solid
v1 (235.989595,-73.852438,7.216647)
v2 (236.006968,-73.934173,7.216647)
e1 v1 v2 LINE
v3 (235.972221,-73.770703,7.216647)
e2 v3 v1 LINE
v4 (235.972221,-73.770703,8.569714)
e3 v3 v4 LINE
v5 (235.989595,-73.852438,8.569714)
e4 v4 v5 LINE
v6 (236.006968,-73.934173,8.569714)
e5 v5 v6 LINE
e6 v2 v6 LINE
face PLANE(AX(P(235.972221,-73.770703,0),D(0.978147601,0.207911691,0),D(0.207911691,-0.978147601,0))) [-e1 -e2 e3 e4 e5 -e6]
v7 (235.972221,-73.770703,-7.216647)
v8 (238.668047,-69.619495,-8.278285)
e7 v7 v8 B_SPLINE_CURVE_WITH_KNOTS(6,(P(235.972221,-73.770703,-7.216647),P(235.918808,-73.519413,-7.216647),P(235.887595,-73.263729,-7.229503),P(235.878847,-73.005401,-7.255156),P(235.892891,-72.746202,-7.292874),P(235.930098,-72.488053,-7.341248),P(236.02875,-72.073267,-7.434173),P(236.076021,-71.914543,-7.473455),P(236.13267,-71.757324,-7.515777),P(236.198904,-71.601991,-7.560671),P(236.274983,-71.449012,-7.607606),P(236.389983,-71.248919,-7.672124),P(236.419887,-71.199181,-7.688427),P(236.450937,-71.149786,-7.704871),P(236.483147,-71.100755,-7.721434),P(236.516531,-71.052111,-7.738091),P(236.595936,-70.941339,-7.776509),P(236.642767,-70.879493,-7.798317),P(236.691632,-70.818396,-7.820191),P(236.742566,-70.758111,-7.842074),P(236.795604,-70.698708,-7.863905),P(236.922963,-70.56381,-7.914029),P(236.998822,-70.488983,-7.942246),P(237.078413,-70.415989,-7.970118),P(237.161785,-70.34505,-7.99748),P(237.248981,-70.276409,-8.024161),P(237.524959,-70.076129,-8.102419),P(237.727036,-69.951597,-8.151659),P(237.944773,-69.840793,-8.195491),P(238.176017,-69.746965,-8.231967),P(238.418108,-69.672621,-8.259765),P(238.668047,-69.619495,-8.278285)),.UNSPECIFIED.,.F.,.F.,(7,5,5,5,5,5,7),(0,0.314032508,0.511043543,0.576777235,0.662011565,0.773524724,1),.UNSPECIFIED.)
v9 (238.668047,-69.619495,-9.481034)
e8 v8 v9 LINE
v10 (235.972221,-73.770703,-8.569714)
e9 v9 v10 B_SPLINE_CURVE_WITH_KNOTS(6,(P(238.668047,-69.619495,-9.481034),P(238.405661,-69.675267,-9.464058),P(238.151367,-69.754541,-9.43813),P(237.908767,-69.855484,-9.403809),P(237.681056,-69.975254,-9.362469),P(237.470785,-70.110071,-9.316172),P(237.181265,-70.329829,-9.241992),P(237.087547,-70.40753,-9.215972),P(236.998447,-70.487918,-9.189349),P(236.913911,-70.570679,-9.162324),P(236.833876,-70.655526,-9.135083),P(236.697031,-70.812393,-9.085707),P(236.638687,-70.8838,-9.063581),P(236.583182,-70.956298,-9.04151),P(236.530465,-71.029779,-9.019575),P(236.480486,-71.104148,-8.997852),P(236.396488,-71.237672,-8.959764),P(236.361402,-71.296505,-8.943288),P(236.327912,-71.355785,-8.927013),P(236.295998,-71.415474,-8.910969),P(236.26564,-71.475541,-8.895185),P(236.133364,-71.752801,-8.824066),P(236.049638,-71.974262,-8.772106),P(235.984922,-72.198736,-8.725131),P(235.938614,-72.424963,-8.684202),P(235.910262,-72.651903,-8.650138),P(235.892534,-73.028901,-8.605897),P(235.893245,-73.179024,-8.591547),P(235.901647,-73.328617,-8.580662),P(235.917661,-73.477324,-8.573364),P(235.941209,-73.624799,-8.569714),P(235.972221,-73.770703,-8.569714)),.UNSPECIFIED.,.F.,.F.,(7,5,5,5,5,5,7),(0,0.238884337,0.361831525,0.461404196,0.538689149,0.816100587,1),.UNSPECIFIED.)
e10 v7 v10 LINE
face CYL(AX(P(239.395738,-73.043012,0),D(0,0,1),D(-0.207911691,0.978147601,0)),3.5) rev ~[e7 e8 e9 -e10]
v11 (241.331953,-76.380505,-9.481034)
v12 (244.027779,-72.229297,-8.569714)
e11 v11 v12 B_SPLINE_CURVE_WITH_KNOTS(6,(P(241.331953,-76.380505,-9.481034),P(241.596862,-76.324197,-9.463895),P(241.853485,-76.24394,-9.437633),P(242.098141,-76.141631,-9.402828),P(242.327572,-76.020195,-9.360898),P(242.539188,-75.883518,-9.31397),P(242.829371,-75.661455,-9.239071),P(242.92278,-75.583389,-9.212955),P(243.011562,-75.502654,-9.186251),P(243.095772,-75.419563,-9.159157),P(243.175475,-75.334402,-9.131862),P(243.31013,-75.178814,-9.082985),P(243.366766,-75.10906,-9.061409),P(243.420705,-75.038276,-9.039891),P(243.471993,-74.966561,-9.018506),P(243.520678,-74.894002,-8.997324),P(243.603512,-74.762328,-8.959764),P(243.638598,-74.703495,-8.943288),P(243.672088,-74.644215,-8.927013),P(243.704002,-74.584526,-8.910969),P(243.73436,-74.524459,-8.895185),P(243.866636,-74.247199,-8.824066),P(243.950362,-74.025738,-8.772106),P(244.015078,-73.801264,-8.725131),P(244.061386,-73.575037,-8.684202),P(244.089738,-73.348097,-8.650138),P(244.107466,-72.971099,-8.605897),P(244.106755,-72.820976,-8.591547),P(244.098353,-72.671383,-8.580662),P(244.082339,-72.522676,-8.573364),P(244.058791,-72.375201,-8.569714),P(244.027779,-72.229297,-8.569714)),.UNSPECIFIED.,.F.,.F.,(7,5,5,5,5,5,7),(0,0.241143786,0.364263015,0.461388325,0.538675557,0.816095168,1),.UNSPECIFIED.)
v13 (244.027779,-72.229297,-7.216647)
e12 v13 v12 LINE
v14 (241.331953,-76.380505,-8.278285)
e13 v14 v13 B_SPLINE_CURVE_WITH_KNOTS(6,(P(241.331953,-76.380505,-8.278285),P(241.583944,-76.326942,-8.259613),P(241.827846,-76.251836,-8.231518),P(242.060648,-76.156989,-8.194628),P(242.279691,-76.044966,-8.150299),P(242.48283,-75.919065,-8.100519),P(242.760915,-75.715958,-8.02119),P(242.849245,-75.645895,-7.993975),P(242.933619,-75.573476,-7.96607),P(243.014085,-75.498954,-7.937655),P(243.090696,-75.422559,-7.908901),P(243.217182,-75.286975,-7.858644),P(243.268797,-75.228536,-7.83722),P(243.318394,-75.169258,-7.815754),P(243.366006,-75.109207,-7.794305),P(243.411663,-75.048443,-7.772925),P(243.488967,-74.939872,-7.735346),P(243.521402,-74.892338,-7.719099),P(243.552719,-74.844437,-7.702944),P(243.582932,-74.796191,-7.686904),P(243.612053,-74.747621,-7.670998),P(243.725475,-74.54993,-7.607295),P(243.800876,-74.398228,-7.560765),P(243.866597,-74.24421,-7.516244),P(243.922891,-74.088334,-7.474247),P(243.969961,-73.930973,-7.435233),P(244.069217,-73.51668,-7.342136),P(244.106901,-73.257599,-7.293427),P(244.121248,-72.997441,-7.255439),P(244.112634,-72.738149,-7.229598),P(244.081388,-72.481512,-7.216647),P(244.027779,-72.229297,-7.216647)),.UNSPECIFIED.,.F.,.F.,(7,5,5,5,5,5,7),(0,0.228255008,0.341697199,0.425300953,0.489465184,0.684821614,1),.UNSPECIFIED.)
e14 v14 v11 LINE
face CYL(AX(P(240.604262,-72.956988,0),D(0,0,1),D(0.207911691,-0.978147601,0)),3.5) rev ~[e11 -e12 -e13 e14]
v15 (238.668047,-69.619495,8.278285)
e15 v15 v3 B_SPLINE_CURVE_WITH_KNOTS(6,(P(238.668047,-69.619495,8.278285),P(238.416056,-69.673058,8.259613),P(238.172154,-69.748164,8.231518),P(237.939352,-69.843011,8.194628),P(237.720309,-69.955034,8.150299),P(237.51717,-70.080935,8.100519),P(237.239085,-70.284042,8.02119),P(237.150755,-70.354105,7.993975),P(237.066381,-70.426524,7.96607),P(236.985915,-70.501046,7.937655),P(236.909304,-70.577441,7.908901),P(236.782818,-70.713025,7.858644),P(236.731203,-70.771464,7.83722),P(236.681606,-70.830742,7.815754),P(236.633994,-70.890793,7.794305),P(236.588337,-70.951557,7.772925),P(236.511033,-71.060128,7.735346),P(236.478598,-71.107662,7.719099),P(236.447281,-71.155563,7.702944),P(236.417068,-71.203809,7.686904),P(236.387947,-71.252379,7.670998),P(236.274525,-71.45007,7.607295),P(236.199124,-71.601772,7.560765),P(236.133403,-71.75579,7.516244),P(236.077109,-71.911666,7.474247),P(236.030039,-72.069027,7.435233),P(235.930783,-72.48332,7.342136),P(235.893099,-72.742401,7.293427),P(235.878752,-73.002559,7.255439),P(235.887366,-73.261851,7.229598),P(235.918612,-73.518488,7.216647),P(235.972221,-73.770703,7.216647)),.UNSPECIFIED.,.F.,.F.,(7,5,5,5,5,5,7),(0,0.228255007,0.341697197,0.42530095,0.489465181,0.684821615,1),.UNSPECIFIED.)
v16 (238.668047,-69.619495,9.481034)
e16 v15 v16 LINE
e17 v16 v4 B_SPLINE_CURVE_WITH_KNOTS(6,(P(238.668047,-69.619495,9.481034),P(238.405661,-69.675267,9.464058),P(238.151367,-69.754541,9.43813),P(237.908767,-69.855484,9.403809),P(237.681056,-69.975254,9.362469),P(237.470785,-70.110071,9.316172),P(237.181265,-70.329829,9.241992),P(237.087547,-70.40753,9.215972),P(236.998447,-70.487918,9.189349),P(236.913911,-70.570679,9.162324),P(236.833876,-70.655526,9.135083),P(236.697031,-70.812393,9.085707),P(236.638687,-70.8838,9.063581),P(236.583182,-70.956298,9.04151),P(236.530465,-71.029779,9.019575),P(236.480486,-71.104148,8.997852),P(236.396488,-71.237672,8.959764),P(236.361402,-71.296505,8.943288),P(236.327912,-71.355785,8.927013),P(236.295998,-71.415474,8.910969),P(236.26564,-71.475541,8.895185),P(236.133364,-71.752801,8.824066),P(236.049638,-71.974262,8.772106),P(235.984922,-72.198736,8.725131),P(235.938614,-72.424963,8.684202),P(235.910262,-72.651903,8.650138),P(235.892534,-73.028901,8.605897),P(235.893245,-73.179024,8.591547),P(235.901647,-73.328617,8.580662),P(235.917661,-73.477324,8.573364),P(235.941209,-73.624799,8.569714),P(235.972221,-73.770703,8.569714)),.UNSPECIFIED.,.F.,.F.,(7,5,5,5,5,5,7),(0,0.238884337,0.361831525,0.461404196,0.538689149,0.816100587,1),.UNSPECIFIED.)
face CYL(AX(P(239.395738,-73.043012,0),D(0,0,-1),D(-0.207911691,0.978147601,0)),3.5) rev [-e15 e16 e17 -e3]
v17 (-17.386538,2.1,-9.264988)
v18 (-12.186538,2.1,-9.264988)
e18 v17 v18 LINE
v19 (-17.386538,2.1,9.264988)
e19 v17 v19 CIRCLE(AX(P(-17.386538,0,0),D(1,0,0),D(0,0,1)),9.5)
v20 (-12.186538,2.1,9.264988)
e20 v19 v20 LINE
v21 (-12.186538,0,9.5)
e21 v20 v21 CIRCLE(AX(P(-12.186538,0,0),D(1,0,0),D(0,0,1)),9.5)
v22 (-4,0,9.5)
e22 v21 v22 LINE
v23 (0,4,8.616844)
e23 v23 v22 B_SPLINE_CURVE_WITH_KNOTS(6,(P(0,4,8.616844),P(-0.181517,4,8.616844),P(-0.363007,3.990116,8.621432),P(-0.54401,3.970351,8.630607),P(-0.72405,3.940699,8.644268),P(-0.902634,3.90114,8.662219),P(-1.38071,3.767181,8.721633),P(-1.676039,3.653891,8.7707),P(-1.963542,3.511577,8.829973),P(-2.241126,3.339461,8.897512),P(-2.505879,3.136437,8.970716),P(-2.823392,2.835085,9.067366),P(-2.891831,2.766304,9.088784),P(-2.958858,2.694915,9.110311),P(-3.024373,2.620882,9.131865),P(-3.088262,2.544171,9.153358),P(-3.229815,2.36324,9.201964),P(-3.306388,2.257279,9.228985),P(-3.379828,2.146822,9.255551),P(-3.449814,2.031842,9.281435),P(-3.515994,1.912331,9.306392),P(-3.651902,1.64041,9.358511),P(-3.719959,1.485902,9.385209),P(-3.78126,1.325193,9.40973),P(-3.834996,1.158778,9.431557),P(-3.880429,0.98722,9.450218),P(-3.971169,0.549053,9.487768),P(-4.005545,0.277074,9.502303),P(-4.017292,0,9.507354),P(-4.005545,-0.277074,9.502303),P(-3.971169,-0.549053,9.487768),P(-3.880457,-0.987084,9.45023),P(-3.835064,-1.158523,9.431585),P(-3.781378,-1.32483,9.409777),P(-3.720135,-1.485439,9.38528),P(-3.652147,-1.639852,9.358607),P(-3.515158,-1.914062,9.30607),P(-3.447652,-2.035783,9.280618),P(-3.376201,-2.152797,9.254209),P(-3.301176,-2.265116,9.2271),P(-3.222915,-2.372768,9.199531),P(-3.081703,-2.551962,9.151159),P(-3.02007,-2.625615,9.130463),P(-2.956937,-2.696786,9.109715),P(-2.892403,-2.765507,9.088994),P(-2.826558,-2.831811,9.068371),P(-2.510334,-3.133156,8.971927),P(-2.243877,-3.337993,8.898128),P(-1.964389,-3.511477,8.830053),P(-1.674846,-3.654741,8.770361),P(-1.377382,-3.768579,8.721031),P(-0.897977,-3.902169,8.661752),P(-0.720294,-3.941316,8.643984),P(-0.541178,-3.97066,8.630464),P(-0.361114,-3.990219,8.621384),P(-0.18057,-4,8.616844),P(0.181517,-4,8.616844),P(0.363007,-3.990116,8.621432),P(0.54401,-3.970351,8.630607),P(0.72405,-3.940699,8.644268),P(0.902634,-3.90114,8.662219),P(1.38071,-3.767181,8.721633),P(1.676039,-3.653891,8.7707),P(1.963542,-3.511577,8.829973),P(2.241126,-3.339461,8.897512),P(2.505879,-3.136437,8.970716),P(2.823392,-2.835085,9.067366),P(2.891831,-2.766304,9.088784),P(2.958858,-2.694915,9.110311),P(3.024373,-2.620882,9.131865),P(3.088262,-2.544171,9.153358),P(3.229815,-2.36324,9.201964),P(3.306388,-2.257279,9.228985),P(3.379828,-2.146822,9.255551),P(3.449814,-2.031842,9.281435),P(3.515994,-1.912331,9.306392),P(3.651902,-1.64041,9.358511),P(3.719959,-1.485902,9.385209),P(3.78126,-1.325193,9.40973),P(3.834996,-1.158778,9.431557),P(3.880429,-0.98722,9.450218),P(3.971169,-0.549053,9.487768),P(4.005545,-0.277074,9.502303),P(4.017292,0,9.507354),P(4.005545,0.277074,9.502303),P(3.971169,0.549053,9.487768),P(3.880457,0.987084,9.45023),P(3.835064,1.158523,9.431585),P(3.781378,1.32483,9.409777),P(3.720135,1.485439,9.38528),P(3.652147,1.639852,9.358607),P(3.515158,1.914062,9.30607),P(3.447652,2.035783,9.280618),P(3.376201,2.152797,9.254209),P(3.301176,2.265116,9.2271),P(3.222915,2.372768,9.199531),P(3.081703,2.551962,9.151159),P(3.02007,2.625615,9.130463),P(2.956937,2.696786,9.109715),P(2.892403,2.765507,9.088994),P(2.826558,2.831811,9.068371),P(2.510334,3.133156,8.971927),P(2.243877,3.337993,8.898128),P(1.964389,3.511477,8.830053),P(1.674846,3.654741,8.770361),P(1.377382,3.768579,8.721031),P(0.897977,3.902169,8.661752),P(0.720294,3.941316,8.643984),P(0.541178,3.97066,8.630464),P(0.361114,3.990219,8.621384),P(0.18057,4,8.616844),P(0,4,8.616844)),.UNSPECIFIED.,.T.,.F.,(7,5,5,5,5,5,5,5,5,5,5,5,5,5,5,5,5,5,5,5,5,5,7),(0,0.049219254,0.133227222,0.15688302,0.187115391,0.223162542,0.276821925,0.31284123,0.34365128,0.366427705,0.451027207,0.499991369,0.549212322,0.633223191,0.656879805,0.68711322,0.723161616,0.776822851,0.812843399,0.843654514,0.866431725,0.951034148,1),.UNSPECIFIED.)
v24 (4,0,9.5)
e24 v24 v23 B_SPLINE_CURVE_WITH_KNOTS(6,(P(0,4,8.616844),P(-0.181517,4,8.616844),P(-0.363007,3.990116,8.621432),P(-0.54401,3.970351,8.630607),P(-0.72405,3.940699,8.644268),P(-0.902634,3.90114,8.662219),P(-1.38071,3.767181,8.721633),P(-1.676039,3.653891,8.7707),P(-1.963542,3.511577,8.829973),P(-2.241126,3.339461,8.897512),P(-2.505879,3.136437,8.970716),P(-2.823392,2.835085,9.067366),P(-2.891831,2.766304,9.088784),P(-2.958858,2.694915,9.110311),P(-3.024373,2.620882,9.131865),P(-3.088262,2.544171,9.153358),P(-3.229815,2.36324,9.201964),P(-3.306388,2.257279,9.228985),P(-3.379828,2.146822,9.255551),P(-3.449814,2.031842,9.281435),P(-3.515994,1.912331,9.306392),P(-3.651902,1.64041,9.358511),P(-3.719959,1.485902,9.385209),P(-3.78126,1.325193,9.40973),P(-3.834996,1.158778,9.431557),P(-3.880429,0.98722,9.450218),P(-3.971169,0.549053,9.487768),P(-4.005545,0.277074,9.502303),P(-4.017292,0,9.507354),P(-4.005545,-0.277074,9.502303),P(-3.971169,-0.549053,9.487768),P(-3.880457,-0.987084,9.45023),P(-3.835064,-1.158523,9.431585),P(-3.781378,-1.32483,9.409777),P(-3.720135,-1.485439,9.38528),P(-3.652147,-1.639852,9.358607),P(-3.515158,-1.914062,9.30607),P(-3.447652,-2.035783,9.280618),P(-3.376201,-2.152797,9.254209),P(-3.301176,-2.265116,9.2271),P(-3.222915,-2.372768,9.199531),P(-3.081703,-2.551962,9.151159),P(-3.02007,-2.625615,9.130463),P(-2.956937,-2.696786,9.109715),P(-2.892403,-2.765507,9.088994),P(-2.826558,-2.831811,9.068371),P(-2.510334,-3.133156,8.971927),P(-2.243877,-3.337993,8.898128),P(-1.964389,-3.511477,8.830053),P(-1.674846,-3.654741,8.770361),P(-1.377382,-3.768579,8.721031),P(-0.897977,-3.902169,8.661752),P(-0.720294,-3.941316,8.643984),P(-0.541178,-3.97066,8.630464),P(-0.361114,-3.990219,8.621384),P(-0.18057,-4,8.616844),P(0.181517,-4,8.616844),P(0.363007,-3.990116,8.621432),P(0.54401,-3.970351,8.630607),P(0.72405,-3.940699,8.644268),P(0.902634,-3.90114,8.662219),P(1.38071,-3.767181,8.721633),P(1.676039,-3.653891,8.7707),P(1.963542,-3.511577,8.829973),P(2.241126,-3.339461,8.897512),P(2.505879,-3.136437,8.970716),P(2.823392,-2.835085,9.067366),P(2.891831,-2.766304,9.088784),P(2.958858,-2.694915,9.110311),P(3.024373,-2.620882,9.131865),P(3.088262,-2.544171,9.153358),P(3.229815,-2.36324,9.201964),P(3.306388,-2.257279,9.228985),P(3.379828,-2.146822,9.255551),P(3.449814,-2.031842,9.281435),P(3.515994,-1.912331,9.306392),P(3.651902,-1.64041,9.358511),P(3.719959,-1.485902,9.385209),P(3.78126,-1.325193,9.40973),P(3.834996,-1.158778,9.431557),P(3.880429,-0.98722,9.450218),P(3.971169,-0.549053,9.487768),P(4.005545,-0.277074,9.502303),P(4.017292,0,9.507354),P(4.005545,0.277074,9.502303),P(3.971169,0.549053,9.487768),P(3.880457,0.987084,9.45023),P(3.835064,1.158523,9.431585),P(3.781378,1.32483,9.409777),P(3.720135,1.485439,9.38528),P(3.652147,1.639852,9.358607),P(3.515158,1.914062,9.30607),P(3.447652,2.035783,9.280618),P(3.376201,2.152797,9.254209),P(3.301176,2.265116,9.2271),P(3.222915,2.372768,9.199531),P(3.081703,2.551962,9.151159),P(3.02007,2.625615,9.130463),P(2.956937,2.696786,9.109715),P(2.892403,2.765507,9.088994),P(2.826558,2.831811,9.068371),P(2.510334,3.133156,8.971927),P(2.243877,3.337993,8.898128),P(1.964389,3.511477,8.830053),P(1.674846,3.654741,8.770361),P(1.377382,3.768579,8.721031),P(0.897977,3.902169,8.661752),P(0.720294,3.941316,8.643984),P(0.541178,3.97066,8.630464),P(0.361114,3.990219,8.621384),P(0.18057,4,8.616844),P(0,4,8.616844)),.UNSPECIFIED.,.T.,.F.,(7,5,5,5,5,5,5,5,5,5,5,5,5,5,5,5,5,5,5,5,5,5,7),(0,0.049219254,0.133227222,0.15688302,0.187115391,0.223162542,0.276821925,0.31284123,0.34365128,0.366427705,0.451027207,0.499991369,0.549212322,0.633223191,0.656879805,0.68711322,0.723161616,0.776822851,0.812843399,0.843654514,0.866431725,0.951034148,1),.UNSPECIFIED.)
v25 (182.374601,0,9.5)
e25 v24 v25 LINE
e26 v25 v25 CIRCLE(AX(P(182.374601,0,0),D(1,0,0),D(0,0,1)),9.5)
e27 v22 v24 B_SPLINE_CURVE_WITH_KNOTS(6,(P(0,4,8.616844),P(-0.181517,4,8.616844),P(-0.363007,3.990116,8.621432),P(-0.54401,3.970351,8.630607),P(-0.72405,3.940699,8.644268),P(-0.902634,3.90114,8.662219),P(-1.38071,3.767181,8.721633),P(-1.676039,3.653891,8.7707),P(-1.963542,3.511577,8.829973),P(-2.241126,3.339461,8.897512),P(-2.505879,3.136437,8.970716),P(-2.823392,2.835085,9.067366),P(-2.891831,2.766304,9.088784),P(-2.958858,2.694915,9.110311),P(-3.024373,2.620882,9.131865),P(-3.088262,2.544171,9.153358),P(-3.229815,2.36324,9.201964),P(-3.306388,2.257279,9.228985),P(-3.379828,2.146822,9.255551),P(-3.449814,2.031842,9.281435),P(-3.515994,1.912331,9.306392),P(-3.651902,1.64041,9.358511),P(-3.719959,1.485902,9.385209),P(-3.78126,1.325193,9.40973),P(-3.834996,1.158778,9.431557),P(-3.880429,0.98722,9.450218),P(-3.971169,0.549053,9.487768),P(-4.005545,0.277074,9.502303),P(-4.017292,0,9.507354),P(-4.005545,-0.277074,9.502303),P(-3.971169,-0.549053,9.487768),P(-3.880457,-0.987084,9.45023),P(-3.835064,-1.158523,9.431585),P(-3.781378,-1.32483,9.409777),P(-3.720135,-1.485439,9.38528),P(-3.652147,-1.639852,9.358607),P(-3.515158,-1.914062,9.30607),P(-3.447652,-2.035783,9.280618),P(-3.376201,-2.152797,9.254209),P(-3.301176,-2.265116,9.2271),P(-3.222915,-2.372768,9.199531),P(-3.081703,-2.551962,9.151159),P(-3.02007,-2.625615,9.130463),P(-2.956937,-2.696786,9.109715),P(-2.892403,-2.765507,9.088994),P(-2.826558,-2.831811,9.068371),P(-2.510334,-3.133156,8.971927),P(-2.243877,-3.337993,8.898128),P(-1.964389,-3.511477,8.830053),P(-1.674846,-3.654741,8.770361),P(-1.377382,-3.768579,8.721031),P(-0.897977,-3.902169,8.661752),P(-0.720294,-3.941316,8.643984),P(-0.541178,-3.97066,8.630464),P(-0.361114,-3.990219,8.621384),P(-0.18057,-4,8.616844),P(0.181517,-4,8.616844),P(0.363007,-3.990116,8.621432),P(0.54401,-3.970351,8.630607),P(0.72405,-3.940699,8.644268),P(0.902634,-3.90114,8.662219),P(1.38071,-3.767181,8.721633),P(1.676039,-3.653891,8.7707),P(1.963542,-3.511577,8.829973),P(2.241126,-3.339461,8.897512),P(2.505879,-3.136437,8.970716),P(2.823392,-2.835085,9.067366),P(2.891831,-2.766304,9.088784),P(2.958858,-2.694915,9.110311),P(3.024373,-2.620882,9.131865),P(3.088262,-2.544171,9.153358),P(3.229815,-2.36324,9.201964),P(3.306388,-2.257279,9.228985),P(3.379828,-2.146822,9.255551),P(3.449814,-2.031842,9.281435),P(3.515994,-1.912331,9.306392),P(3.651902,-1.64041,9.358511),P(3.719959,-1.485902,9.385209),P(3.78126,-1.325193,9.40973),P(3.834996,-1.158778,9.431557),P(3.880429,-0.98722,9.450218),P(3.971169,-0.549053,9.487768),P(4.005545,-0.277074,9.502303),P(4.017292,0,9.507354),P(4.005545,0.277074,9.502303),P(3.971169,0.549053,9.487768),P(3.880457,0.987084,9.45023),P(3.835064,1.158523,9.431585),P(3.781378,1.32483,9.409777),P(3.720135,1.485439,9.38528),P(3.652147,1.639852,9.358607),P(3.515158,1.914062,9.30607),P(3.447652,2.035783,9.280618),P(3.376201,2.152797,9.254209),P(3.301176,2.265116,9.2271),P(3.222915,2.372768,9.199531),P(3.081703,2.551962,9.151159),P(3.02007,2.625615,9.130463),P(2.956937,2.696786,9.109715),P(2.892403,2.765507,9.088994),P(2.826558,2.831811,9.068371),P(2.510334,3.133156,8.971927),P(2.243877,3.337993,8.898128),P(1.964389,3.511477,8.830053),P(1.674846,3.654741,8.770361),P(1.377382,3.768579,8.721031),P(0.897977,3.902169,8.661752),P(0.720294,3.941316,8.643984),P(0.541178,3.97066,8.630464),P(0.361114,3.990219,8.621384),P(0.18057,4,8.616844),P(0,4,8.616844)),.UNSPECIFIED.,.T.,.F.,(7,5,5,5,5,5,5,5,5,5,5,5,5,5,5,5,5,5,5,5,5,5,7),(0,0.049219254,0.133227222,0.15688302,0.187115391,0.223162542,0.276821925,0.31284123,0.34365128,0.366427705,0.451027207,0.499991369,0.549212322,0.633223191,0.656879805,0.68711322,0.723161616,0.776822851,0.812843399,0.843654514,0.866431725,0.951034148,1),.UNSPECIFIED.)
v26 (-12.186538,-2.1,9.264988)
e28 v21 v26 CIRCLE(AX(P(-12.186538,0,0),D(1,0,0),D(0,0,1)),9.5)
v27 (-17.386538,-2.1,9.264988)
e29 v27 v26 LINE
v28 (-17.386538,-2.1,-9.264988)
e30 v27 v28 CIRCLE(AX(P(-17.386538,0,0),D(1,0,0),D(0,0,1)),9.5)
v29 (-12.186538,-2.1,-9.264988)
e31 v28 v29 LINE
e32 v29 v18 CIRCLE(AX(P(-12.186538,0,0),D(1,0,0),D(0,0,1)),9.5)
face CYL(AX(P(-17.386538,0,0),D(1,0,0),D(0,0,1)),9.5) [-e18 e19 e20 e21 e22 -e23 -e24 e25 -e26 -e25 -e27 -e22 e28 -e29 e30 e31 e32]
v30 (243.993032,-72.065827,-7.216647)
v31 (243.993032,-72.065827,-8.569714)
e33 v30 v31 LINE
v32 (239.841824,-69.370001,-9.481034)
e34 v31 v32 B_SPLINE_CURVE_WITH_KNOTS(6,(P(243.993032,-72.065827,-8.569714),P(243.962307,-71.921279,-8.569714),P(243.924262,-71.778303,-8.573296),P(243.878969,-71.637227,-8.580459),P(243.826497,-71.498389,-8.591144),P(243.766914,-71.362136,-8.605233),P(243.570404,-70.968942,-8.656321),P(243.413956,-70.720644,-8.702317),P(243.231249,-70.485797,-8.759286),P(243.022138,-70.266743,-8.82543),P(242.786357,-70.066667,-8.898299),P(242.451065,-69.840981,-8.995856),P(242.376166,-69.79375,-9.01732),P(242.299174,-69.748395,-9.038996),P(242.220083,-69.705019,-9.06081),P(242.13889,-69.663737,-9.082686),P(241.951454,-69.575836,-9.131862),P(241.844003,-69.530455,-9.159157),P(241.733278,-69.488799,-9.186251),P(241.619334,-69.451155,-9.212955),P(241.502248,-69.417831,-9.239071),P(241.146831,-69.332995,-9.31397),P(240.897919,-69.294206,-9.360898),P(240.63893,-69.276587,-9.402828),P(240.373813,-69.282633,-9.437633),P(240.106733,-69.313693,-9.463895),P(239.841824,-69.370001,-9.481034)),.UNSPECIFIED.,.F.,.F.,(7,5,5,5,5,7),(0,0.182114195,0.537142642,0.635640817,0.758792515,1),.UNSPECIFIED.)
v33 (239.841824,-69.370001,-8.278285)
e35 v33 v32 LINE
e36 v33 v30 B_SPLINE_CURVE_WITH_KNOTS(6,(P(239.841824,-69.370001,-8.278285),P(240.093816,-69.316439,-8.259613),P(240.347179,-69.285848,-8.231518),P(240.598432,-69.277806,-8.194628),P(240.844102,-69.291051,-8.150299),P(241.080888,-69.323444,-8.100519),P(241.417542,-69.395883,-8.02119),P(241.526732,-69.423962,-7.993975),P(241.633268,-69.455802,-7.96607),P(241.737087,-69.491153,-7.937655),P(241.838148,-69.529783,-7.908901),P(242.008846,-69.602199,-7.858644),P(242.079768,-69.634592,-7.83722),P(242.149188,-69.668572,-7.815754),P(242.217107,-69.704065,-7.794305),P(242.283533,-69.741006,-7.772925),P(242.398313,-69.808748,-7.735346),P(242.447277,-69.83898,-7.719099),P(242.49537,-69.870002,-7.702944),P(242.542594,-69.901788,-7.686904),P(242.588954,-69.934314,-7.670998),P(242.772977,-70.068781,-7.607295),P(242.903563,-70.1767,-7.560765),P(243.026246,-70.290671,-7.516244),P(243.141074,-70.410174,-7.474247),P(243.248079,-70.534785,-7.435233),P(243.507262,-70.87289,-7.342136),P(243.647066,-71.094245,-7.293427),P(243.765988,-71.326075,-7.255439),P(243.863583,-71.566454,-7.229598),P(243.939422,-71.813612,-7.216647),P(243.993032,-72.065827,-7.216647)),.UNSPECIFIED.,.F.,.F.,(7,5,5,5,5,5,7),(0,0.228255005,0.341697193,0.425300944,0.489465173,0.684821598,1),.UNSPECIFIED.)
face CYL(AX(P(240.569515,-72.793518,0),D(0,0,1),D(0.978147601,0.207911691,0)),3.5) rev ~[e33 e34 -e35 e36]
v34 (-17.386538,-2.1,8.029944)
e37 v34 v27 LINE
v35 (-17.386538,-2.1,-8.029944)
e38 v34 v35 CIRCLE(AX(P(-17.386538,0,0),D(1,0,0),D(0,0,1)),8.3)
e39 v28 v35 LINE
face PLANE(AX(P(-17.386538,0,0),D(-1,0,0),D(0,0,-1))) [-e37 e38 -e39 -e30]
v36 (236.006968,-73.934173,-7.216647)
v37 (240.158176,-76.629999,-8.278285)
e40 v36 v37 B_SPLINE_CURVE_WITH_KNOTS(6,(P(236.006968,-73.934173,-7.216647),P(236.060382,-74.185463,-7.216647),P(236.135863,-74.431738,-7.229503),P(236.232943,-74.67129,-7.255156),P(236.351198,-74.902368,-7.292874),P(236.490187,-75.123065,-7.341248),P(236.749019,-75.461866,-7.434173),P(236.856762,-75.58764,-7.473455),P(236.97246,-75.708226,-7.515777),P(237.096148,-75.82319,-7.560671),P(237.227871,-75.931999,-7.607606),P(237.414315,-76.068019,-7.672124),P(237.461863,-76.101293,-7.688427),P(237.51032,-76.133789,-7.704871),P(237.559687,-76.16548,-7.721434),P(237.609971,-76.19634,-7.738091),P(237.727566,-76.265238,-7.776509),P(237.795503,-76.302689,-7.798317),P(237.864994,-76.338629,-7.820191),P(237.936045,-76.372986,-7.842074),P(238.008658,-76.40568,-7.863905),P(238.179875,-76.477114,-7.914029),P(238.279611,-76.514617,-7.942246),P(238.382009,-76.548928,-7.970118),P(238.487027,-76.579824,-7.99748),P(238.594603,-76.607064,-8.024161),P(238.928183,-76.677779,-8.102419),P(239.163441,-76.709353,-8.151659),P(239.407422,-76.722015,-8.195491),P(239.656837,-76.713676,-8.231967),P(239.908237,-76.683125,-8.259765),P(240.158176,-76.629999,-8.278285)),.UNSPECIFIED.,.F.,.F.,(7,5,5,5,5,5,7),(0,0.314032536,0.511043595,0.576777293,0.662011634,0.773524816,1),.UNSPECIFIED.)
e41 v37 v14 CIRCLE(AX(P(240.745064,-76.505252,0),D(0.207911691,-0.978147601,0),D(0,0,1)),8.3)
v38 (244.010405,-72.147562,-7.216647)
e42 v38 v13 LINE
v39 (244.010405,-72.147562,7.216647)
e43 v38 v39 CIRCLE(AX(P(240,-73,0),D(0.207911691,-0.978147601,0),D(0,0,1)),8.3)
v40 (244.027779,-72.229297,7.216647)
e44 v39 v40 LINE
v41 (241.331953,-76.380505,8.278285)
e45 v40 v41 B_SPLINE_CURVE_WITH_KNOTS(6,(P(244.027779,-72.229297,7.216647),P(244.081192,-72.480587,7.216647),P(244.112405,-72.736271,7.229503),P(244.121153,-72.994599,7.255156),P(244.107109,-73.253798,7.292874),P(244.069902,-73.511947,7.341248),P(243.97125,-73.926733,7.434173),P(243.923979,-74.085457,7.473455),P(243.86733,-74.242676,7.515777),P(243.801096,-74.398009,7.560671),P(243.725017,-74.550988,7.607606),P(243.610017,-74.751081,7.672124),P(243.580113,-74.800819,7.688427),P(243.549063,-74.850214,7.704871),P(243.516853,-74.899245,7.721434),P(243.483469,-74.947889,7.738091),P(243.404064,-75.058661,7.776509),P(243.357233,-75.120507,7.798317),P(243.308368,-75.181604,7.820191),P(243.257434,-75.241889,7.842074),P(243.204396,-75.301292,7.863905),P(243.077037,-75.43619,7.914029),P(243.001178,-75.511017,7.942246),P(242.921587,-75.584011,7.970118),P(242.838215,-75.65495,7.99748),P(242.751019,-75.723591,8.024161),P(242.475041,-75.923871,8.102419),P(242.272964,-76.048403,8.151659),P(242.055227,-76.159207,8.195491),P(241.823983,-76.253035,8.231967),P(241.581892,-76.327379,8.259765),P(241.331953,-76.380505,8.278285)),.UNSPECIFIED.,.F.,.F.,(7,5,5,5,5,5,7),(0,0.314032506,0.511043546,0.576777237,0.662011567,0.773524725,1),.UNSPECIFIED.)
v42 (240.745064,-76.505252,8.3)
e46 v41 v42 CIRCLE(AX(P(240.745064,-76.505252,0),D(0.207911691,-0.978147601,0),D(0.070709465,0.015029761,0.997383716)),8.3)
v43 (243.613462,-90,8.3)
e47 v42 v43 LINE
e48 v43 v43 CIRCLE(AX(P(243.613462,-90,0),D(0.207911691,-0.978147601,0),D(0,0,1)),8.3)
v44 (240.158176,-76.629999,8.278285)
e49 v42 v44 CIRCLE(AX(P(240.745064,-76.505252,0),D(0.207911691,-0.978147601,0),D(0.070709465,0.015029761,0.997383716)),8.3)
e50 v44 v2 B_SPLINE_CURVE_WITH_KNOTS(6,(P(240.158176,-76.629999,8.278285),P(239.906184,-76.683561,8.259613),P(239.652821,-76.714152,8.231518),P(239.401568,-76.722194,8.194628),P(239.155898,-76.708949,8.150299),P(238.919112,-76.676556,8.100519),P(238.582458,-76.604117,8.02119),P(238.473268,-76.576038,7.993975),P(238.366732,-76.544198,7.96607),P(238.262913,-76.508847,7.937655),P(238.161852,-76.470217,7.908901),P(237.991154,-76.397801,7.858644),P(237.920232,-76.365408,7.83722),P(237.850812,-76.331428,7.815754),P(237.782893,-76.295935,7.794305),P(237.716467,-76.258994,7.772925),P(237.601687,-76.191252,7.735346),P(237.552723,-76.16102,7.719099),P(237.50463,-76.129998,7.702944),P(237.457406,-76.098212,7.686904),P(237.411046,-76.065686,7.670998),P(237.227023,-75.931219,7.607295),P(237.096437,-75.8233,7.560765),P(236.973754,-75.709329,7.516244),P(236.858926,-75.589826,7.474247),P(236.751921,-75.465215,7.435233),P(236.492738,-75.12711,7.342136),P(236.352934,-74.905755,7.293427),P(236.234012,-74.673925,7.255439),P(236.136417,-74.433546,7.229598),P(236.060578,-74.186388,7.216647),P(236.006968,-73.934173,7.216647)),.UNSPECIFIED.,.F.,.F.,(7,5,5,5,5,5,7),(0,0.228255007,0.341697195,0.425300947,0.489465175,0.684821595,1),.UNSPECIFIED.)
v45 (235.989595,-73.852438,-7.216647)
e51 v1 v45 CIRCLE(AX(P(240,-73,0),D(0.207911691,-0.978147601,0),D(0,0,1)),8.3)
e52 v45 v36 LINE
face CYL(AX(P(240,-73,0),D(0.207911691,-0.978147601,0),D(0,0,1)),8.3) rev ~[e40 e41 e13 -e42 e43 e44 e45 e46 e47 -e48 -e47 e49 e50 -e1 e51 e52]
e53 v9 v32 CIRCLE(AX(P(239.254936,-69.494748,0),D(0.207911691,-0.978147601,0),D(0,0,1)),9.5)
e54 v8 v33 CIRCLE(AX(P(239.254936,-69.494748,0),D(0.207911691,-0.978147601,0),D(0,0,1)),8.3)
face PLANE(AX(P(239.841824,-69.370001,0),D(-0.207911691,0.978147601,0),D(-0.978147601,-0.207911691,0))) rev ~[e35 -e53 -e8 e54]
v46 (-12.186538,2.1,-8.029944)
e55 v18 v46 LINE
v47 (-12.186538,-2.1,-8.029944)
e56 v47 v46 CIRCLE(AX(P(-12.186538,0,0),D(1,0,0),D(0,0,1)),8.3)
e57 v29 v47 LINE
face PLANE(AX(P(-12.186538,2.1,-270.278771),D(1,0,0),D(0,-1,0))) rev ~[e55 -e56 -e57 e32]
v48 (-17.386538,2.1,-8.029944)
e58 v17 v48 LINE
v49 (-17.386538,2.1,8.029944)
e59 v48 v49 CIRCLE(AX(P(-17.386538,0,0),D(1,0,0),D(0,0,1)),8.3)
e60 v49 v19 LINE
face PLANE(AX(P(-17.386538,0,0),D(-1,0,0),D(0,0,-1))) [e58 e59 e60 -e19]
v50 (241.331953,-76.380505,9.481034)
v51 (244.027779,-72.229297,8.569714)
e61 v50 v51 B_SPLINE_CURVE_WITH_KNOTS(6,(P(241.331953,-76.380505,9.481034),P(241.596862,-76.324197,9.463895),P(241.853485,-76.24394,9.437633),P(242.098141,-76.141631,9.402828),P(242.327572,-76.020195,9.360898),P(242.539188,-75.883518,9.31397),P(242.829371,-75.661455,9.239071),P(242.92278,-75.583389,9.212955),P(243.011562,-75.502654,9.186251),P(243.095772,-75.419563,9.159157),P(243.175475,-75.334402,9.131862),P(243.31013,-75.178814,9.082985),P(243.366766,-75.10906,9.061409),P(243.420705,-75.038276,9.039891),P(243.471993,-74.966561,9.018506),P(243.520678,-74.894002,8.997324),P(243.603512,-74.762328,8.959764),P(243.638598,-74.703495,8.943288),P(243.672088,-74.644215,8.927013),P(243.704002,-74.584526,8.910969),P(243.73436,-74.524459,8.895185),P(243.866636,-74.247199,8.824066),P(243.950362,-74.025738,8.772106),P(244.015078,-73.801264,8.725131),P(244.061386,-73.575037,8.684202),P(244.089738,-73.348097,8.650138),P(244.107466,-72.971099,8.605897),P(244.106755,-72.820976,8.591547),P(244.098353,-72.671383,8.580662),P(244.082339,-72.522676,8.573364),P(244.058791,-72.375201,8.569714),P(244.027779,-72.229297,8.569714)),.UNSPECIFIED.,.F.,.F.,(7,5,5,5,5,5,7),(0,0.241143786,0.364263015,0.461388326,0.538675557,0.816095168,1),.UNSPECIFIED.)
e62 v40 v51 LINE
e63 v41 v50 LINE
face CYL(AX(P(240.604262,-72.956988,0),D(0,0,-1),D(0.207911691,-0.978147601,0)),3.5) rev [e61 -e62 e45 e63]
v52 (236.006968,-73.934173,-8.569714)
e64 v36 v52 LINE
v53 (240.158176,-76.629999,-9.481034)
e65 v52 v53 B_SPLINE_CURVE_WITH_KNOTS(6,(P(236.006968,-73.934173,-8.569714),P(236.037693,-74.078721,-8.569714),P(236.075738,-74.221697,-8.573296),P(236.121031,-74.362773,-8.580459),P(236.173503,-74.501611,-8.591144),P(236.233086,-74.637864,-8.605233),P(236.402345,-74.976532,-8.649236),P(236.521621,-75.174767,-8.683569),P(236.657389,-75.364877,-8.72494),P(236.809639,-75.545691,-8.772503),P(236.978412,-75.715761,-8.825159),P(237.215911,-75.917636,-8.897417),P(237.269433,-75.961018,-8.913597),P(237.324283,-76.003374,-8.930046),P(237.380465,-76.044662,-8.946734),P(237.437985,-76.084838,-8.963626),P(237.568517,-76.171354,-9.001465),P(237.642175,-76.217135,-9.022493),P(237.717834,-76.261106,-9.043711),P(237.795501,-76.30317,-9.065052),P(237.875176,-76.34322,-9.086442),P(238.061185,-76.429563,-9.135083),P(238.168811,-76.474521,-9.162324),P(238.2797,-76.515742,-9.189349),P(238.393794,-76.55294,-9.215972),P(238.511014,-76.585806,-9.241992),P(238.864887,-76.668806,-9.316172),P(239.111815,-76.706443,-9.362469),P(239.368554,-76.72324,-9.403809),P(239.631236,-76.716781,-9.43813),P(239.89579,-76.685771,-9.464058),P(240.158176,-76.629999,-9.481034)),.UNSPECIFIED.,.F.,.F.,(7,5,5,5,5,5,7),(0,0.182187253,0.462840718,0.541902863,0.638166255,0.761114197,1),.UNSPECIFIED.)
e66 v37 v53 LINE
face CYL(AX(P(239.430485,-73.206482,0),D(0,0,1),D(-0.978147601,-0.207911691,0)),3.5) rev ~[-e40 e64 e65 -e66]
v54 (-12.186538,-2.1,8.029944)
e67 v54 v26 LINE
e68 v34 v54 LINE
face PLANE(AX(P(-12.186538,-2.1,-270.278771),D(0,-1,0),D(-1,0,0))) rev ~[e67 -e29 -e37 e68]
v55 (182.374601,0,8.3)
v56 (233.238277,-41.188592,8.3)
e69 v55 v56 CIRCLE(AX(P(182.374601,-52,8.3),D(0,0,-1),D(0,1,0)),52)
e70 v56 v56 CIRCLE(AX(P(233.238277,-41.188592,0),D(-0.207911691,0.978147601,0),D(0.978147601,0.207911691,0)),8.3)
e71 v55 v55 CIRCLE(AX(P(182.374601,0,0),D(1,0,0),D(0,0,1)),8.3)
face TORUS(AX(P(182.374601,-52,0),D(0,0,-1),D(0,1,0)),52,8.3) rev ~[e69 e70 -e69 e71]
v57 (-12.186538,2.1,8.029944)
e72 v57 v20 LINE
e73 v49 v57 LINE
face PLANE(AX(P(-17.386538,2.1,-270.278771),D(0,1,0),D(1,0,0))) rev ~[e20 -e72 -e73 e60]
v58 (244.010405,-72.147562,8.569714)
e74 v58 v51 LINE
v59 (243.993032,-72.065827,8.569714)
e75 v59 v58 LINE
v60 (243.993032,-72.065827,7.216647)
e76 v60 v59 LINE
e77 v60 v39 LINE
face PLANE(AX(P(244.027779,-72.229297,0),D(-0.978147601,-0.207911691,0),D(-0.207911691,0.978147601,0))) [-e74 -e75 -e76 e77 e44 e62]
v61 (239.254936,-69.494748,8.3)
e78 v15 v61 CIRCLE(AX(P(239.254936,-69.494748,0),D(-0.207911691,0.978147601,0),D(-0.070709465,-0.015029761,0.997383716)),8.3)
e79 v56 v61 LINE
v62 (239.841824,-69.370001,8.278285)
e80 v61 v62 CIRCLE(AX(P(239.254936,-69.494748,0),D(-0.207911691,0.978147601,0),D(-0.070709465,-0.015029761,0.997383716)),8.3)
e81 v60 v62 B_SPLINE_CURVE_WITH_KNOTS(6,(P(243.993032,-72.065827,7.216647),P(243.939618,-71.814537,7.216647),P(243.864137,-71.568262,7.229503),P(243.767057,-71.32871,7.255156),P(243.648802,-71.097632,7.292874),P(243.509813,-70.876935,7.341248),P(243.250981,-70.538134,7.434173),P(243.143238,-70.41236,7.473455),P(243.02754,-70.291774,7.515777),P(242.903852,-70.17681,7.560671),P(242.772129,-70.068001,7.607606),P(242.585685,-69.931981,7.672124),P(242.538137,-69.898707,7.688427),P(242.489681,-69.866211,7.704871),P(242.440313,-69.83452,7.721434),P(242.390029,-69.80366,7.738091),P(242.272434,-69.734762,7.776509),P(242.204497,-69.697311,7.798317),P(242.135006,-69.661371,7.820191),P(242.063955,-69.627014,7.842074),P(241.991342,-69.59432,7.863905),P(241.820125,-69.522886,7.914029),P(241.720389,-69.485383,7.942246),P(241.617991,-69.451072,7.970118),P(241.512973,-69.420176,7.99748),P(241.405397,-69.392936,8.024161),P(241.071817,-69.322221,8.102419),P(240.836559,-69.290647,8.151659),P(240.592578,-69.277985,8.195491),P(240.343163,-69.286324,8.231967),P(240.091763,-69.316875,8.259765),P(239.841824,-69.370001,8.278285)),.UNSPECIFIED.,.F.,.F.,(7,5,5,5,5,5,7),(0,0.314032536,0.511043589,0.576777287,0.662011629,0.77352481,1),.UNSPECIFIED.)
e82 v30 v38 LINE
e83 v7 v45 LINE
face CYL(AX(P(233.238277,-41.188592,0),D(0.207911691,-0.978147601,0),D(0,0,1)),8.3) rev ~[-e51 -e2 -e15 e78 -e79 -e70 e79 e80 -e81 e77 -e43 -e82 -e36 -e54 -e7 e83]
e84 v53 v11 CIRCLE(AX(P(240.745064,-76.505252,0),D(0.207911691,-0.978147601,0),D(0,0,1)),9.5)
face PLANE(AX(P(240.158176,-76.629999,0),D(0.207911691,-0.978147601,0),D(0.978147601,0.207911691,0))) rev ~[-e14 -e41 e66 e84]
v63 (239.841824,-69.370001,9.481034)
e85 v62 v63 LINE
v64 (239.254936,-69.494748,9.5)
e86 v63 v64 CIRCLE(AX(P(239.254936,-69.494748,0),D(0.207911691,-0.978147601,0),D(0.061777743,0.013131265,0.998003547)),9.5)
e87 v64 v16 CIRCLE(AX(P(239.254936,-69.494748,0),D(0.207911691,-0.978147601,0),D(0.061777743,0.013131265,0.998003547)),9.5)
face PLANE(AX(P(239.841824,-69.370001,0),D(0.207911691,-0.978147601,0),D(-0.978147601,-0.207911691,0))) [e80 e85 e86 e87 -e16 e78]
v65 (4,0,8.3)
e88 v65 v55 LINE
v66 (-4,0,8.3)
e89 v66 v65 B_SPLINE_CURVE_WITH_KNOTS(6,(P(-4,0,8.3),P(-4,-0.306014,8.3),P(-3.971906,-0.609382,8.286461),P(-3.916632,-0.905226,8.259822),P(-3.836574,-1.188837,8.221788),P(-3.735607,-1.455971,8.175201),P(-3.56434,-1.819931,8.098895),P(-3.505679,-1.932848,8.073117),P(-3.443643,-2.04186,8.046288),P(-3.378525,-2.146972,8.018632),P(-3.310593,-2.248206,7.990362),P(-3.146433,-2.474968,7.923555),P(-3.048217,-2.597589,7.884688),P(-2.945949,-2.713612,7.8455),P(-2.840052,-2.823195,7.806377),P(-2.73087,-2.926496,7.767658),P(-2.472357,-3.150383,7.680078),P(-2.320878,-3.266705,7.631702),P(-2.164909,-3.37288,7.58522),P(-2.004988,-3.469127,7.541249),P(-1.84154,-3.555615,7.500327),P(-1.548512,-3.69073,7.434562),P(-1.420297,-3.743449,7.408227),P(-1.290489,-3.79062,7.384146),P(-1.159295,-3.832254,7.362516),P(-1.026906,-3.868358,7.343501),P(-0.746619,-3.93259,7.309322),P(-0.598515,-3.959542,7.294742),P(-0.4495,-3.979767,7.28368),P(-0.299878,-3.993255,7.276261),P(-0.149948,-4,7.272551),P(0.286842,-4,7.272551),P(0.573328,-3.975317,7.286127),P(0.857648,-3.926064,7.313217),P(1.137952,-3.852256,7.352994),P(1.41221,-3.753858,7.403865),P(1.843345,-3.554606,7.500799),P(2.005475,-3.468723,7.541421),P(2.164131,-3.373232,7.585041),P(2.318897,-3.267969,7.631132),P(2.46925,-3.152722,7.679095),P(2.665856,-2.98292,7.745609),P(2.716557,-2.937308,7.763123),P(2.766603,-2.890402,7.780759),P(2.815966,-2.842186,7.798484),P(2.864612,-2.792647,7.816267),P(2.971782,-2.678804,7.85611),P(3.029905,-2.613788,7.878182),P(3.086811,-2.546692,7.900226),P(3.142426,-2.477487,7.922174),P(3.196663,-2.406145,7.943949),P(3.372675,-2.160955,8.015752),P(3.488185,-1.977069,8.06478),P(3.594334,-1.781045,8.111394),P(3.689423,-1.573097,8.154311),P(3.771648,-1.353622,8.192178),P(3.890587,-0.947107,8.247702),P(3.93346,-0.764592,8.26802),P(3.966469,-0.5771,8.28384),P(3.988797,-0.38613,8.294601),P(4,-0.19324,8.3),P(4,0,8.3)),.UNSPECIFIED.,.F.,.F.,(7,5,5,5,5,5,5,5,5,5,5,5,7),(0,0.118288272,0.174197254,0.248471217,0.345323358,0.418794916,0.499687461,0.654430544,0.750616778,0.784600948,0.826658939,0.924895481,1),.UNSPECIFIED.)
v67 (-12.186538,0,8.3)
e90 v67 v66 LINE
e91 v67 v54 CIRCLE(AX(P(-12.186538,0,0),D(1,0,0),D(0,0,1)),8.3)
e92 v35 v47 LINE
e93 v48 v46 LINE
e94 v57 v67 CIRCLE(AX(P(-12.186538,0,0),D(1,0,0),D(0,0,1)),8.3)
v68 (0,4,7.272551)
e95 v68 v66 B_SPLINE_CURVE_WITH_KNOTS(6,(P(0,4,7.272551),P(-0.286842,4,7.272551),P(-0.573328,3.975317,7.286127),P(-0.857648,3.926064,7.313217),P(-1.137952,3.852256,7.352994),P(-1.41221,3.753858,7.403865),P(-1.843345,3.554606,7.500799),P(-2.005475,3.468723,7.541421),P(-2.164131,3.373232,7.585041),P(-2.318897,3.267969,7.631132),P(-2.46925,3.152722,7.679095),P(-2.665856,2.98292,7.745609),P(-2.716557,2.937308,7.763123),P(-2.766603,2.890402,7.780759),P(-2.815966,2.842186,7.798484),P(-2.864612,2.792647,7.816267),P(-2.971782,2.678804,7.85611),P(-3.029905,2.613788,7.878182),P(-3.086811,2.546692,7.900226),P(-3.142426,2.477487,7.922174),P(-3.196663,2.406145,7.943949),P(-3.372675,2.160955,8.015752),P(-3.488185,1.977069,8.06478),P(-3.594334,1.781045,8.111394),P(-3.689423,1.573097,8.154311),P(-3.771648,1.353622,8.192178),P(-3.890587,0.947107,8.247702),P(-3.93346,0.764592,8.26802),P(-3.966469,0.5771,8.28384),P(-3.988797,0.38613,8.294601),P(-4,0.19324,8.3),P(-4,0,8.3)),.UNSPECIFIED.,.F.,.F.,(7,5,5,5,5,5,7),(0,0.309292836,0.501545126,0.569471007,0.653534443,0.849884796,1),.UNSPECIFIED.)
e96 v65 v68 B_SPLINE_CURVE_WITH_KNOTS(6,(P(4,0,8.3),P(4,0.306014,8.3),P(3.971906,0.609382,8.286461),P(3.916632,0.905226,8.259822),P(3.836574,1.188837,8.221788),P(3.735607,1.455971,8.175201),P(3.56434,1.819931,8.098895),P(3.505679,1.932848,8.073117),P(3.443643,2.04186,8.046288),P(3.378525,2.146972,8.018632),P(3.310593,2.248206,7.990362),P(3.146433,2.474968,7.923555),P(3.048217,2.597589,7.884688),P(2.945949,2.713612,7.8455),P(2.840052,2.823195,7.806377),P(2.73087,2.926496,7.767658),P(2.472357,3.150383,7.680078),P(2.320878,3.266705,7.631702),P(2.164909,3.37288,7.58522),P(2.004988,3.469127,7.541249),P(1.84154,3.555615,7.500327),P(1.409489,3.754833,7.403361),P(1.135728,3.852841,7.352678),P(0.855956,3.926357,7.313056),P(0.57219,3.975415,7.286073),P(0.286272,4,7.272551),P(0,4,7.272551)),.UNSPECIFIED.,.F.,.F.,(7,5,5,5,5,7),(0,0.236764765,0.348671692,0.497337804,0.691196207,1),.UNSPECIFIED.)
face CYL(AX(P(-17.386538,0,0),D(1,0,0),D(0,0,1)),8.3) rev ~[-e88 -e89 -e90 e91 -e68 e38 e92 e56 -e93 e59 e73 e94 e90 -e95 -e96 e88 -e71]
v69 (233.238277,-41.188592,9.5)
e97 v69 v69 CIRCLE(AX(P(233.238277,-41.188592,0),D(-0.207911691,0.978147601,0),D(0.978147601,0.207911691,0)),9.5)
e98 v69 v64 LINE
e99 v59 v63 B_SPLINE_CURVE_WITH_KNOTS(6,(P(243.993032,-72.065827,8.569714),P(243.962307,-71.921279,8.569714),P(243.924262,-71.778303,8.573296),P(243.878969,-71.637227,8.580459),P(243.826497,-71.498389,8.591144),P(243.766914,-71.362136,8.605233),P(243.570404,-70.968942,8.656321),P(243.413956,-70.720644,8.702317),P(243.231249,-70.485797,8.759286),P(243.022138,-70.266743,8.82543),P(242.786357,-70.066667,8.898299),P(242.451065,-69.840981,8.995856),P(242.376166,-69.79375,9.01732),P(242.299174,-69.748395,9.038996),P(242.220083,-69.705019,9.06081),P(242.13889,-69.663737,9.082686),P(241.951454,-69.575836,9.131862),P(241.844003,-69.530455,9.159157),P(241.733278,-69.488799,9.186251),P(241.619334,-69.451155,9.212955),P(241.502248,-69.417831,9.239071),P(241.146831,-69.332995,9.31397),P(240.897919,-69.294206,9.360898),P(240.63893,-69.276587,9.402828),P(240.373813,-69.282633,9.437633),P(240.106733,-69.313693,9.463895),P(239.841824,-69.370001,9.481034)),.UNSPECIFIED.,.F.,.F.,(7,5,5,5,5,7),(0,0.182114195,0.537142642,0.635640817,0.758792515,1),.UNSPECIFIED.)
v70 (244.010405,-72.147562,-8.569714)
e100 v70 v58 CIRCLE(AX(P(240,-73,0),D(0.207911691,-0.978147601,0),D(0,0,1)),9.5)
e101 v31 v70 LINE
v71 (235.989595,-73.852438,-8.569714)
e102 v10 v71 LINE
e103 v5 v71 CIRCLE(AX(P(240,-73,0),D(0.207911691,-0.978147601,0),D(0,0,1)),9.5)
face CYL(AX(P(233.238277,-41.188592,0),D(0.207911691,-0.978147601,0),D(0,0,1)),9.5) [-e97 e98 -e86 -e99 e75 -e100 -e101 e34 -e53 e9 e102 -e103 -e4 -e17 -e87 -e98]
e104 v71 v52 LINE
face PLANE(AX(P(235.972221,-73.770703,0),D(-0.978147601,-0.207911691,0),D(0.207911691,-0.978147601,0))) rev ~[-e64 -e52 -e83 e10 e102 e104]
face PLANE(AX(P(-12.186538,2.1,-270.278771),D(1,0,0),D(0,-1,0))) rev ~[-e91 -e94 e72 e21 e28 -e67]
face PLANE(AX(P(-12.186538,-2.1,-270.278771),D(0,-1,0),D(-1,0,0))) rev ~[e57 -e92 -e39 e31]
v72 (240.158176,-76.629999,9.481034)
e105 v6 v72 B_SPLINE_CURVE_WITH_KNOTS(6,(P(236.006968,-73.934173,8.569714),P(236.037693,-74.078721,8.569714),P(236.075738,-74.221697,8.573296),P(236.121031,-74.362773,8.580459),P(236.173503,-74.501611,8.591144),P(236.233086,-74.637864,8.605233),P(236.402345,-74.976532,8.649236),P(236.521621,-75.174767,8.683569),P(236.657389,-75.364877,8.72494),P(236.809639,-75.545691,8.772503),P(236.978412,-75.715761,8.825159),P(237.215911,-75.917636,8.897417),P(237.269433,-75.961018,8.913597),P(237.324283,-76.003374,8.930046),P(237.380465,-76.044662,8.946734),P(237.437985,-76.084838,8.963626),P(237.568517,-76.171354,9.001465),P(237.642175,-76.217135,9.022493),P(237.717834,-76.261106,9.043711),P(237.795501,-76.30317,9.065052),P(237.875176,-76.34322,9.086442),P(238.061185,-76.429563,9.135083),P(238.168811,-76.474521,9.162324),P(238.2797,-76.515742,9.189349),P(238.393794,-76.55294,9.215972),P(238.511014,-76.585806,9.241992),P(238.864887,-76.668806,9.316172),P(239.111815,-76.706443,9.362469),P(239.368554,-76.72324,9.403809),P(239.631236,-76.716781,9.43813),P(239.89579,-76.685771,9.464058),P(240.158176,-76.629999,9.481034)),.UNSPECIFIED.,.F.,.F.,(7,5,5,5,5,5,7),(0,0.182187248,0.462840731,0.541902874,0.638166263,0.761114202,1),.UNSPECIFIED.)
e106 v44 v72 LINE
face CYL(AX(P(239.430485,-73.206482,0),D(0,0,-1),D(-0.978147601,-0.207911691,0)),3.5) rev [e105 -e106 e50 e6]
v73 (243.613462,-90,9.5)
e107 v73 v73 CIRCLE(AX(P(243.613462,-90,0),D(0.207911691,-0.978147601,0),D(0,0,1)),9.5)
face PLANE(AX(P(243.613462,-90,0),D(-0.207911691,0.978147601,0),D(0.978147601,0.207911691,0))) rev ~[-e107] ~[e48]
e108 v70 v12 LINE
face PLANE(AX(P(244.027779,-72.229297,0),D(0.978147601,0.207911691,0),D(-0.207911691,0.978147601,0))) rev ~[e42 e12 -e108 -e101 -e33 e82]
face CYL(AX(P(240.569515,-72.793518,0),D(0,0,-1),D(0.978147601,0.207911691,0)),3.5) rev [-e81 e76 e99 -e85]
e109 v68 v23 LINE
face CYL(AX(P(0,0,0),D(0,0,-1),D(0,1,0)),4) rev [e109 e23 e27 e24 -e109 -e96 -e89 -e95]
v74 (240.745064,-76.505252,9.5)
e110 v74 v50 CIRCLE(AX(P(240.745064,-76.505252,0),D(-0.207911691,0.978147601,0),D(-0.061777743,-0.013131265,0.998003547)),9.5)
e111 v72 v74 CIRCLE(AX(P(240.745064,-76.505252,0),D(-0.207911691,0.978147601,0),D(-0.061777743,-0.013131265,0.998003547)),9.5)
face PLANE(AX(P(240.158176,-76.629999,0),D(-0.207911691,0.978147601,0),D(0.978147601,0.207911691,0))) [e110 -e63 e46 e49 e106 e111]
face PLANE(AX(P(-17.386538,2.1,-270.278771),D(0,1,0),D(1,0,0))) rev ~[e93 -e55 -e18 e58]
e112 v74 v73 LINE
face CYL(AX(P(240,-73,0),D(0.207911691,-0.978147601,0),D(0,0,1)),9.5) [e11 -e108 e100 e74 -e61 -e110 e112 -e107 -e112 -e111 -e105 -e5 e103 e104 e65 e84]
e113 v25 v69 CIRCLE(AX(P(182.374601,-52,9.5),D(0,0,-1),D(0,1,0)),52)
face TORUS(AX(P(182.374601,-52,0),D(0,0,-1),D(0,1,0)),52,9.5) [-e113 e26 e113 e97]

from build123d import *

# Parameters (mm, degrees)
SKETCH2_R                      = 9.5
SKETCH2_R_2                    = 8.3
CUT_EXTRUDE1_REACH             = 271.279
CUT_EXTRUDE1_DIRECTION_2_REACH = 271.279
CUT_EXTRUDE2_REACH             = 271.279
CUT_EXTRUDE2_END_RADIUS        = 9.5
SKETCH4_R                      = 4
CUT_EXTRUDE3_DEPTH             = 270.278770506
CUT_EXTRUDE3_DEPTH_BACK        = 270.278770506


with BuildPart() as part:
    # Sweep1: sweep along a path in Sketch1
    with BuildLine(Plane.XY) as sweep1_path:
        Line((-17.386538452, 0), (0, 0))
        Line((0, 0), (182.374601272, 0))
        ThreePointArc((182.374601272, 0), (215.099261607, -11.588410004), (233.23827651, -41.188592077))
        Line((233.23827651, -41.188592077), (240, -73))
        Line((240, -73), (243.613461548, -90))
    # Sketch2 → Sweep1 (sweep)
    with BuildSketch(Plane.ZY.offset(17.386538452)):
        Circle(SKETCH2_R)
        Circle(SKETCH2_R_2, mode=Mode.SUBTRACT)
    sweep(path=sweep1_path.line)

    # Sketch3 → Cut-Extrude1 (cut, up to next)
    with BuildSketch(Plane.XY, mode=Mode.PRIVATE) as cut_extrude1_sk1:
        with BuildLine():
            Line((244.027778512, -72.229297246), (243.993031815, -72.065826889))
            ThreePointArc((243.993031815, -72.065826889), (242.475751834, -69.858170819), (239.841824294, -69.370001204))
            Line((239.841824294, -69.370001204), (238.668047173, -69.619495233))
            ThreePointArc((238.668047173, -69.619495233), (236.460391103, -71.136775213), (235.972221488, -73.770702754))
            Line((235.972221488, -73.770702754), (236.006968185, -73.934173111))
            ThreePointArc((236.006968185, -73.934173111), (237.524248166, -76.141829181), (240.158175706, -76.629998796))
            Line((240.158175706, -76.629998796), (241.331952827, -76.380504767))
            ThreePointArc((241.331952827, -76.380504767), (243.539608897, -74.863224787), (244.027778512, -72.229297246))
        make_face()
    cut_extrude1_tool1 = extrude(cut_extrude1_sk1.sketch, amount=-CUT_EXTRUDE1_REACH, mode=Mode.PRIVATE) & part.part
    add(cut_extrude1_tool1.solids().sort_by_distance((240, -73, 0))[0], mode=Mode.SUBTRACT)

    # Sketch3 → Cut-Extrude1 direction 2 (cut, up to next)
    with BuildSketch(Plane.XY, mode=Mode.PRIVATE) as cut_extrude1_direction_2_sk1:
        with BuildLine():
            Line((244.027778512, -72.229297246), (243.993031815, -72.065826889))
            ThreePointArc((243.993031815, -72.065826889), (242.475751834, -69.858170819), (239.841824294, -69.370001204))
            Line((239.841824294, -69.370001204), (238.668047173, -69.619495233))
            ThreePointArc((238.668047173, -69.619495233), (236.460391103, -71.136775213), (235.972221488, -73.770702754))
            Line((235.972221488, -73.770702754), (236.006968185, -73.934173111))
            ThreePointArc((236.006968185, -73.934173111), (237.524248166, -76.141829181), (240.158175706, -76.629998796))
            Line((240.158175706, -76.629998796), (241.331952827, -76.380504767))
            ThreePointArc((241.331952827, -76.380504767), (243.539608897, -74.863224787), (244.027778512, -72.229297246))
        make_face()
    cut_extrude1_direction_2_tool1 = extrude(cut_extrude1_direction_2_sk1.sketch, amount=CUT_EXTRUDE1_DIRECTION_2_REACH, mode=Mode.PRIVATE) & part.part
    add(cut_extrude1_direction_2_tool1.solids().sort_by_distance((240, -73, 0))[0], mode=Mode.SUBTRACT)

    # Cut-Extrude2: up to this cylinder (the profile starts inside it)
    cut_extrude2_end = Plane(origin=(0, 0, 0), z_dir=(-1, 0, 0)) * Cylinder(CUT_EXTRUDE2_END_RADIUS, 562.558, mode=Mode.PRIVATE)
    # Sketch4 → Cut-Extrude2 (cut, up to the surface)
    with BuildSketch(Plane.XY, mode=Mode.PRIVATE) as cut_extrude2_sk1:
        with Locations(Location((0, 0, 0), (0, 0, 90))):
            Circle(SKETCH4_R)
    cut_extrude2_tool1 = extrude(cut_extrude2_sk1.sketch, amount=CUT_EXTRUDE2_REACH, mode=Mode.PRIVATE) & cut_extrude2_end
    add(cut_extrude2_tool1.solids().sort_by_distance((0, 0, 0))[0], mode=Mode.SUBTRACT)

    # Sketch5 → Cut-Extrude3 (cut, two sides: drawn at the far end of the back side and taken through both)
    with BuildSketch(Plane.XY.offset(-CUT_EXTRUDE3_DEPTH_BACK)):
        Polygon((-17.386538452, 0), (-17.386538452, 2.1), (-12.186538452, 2.1), (-12.186538452, -2.1), (-17.386538452, -2.1), align=None)
    extrude(amount=CUT_EXTRUDE3_DEPTH + CUT_EXTRUDE3_DEPTH_BACK, mode=Mode.SUBTRACT)


solid = part.part
